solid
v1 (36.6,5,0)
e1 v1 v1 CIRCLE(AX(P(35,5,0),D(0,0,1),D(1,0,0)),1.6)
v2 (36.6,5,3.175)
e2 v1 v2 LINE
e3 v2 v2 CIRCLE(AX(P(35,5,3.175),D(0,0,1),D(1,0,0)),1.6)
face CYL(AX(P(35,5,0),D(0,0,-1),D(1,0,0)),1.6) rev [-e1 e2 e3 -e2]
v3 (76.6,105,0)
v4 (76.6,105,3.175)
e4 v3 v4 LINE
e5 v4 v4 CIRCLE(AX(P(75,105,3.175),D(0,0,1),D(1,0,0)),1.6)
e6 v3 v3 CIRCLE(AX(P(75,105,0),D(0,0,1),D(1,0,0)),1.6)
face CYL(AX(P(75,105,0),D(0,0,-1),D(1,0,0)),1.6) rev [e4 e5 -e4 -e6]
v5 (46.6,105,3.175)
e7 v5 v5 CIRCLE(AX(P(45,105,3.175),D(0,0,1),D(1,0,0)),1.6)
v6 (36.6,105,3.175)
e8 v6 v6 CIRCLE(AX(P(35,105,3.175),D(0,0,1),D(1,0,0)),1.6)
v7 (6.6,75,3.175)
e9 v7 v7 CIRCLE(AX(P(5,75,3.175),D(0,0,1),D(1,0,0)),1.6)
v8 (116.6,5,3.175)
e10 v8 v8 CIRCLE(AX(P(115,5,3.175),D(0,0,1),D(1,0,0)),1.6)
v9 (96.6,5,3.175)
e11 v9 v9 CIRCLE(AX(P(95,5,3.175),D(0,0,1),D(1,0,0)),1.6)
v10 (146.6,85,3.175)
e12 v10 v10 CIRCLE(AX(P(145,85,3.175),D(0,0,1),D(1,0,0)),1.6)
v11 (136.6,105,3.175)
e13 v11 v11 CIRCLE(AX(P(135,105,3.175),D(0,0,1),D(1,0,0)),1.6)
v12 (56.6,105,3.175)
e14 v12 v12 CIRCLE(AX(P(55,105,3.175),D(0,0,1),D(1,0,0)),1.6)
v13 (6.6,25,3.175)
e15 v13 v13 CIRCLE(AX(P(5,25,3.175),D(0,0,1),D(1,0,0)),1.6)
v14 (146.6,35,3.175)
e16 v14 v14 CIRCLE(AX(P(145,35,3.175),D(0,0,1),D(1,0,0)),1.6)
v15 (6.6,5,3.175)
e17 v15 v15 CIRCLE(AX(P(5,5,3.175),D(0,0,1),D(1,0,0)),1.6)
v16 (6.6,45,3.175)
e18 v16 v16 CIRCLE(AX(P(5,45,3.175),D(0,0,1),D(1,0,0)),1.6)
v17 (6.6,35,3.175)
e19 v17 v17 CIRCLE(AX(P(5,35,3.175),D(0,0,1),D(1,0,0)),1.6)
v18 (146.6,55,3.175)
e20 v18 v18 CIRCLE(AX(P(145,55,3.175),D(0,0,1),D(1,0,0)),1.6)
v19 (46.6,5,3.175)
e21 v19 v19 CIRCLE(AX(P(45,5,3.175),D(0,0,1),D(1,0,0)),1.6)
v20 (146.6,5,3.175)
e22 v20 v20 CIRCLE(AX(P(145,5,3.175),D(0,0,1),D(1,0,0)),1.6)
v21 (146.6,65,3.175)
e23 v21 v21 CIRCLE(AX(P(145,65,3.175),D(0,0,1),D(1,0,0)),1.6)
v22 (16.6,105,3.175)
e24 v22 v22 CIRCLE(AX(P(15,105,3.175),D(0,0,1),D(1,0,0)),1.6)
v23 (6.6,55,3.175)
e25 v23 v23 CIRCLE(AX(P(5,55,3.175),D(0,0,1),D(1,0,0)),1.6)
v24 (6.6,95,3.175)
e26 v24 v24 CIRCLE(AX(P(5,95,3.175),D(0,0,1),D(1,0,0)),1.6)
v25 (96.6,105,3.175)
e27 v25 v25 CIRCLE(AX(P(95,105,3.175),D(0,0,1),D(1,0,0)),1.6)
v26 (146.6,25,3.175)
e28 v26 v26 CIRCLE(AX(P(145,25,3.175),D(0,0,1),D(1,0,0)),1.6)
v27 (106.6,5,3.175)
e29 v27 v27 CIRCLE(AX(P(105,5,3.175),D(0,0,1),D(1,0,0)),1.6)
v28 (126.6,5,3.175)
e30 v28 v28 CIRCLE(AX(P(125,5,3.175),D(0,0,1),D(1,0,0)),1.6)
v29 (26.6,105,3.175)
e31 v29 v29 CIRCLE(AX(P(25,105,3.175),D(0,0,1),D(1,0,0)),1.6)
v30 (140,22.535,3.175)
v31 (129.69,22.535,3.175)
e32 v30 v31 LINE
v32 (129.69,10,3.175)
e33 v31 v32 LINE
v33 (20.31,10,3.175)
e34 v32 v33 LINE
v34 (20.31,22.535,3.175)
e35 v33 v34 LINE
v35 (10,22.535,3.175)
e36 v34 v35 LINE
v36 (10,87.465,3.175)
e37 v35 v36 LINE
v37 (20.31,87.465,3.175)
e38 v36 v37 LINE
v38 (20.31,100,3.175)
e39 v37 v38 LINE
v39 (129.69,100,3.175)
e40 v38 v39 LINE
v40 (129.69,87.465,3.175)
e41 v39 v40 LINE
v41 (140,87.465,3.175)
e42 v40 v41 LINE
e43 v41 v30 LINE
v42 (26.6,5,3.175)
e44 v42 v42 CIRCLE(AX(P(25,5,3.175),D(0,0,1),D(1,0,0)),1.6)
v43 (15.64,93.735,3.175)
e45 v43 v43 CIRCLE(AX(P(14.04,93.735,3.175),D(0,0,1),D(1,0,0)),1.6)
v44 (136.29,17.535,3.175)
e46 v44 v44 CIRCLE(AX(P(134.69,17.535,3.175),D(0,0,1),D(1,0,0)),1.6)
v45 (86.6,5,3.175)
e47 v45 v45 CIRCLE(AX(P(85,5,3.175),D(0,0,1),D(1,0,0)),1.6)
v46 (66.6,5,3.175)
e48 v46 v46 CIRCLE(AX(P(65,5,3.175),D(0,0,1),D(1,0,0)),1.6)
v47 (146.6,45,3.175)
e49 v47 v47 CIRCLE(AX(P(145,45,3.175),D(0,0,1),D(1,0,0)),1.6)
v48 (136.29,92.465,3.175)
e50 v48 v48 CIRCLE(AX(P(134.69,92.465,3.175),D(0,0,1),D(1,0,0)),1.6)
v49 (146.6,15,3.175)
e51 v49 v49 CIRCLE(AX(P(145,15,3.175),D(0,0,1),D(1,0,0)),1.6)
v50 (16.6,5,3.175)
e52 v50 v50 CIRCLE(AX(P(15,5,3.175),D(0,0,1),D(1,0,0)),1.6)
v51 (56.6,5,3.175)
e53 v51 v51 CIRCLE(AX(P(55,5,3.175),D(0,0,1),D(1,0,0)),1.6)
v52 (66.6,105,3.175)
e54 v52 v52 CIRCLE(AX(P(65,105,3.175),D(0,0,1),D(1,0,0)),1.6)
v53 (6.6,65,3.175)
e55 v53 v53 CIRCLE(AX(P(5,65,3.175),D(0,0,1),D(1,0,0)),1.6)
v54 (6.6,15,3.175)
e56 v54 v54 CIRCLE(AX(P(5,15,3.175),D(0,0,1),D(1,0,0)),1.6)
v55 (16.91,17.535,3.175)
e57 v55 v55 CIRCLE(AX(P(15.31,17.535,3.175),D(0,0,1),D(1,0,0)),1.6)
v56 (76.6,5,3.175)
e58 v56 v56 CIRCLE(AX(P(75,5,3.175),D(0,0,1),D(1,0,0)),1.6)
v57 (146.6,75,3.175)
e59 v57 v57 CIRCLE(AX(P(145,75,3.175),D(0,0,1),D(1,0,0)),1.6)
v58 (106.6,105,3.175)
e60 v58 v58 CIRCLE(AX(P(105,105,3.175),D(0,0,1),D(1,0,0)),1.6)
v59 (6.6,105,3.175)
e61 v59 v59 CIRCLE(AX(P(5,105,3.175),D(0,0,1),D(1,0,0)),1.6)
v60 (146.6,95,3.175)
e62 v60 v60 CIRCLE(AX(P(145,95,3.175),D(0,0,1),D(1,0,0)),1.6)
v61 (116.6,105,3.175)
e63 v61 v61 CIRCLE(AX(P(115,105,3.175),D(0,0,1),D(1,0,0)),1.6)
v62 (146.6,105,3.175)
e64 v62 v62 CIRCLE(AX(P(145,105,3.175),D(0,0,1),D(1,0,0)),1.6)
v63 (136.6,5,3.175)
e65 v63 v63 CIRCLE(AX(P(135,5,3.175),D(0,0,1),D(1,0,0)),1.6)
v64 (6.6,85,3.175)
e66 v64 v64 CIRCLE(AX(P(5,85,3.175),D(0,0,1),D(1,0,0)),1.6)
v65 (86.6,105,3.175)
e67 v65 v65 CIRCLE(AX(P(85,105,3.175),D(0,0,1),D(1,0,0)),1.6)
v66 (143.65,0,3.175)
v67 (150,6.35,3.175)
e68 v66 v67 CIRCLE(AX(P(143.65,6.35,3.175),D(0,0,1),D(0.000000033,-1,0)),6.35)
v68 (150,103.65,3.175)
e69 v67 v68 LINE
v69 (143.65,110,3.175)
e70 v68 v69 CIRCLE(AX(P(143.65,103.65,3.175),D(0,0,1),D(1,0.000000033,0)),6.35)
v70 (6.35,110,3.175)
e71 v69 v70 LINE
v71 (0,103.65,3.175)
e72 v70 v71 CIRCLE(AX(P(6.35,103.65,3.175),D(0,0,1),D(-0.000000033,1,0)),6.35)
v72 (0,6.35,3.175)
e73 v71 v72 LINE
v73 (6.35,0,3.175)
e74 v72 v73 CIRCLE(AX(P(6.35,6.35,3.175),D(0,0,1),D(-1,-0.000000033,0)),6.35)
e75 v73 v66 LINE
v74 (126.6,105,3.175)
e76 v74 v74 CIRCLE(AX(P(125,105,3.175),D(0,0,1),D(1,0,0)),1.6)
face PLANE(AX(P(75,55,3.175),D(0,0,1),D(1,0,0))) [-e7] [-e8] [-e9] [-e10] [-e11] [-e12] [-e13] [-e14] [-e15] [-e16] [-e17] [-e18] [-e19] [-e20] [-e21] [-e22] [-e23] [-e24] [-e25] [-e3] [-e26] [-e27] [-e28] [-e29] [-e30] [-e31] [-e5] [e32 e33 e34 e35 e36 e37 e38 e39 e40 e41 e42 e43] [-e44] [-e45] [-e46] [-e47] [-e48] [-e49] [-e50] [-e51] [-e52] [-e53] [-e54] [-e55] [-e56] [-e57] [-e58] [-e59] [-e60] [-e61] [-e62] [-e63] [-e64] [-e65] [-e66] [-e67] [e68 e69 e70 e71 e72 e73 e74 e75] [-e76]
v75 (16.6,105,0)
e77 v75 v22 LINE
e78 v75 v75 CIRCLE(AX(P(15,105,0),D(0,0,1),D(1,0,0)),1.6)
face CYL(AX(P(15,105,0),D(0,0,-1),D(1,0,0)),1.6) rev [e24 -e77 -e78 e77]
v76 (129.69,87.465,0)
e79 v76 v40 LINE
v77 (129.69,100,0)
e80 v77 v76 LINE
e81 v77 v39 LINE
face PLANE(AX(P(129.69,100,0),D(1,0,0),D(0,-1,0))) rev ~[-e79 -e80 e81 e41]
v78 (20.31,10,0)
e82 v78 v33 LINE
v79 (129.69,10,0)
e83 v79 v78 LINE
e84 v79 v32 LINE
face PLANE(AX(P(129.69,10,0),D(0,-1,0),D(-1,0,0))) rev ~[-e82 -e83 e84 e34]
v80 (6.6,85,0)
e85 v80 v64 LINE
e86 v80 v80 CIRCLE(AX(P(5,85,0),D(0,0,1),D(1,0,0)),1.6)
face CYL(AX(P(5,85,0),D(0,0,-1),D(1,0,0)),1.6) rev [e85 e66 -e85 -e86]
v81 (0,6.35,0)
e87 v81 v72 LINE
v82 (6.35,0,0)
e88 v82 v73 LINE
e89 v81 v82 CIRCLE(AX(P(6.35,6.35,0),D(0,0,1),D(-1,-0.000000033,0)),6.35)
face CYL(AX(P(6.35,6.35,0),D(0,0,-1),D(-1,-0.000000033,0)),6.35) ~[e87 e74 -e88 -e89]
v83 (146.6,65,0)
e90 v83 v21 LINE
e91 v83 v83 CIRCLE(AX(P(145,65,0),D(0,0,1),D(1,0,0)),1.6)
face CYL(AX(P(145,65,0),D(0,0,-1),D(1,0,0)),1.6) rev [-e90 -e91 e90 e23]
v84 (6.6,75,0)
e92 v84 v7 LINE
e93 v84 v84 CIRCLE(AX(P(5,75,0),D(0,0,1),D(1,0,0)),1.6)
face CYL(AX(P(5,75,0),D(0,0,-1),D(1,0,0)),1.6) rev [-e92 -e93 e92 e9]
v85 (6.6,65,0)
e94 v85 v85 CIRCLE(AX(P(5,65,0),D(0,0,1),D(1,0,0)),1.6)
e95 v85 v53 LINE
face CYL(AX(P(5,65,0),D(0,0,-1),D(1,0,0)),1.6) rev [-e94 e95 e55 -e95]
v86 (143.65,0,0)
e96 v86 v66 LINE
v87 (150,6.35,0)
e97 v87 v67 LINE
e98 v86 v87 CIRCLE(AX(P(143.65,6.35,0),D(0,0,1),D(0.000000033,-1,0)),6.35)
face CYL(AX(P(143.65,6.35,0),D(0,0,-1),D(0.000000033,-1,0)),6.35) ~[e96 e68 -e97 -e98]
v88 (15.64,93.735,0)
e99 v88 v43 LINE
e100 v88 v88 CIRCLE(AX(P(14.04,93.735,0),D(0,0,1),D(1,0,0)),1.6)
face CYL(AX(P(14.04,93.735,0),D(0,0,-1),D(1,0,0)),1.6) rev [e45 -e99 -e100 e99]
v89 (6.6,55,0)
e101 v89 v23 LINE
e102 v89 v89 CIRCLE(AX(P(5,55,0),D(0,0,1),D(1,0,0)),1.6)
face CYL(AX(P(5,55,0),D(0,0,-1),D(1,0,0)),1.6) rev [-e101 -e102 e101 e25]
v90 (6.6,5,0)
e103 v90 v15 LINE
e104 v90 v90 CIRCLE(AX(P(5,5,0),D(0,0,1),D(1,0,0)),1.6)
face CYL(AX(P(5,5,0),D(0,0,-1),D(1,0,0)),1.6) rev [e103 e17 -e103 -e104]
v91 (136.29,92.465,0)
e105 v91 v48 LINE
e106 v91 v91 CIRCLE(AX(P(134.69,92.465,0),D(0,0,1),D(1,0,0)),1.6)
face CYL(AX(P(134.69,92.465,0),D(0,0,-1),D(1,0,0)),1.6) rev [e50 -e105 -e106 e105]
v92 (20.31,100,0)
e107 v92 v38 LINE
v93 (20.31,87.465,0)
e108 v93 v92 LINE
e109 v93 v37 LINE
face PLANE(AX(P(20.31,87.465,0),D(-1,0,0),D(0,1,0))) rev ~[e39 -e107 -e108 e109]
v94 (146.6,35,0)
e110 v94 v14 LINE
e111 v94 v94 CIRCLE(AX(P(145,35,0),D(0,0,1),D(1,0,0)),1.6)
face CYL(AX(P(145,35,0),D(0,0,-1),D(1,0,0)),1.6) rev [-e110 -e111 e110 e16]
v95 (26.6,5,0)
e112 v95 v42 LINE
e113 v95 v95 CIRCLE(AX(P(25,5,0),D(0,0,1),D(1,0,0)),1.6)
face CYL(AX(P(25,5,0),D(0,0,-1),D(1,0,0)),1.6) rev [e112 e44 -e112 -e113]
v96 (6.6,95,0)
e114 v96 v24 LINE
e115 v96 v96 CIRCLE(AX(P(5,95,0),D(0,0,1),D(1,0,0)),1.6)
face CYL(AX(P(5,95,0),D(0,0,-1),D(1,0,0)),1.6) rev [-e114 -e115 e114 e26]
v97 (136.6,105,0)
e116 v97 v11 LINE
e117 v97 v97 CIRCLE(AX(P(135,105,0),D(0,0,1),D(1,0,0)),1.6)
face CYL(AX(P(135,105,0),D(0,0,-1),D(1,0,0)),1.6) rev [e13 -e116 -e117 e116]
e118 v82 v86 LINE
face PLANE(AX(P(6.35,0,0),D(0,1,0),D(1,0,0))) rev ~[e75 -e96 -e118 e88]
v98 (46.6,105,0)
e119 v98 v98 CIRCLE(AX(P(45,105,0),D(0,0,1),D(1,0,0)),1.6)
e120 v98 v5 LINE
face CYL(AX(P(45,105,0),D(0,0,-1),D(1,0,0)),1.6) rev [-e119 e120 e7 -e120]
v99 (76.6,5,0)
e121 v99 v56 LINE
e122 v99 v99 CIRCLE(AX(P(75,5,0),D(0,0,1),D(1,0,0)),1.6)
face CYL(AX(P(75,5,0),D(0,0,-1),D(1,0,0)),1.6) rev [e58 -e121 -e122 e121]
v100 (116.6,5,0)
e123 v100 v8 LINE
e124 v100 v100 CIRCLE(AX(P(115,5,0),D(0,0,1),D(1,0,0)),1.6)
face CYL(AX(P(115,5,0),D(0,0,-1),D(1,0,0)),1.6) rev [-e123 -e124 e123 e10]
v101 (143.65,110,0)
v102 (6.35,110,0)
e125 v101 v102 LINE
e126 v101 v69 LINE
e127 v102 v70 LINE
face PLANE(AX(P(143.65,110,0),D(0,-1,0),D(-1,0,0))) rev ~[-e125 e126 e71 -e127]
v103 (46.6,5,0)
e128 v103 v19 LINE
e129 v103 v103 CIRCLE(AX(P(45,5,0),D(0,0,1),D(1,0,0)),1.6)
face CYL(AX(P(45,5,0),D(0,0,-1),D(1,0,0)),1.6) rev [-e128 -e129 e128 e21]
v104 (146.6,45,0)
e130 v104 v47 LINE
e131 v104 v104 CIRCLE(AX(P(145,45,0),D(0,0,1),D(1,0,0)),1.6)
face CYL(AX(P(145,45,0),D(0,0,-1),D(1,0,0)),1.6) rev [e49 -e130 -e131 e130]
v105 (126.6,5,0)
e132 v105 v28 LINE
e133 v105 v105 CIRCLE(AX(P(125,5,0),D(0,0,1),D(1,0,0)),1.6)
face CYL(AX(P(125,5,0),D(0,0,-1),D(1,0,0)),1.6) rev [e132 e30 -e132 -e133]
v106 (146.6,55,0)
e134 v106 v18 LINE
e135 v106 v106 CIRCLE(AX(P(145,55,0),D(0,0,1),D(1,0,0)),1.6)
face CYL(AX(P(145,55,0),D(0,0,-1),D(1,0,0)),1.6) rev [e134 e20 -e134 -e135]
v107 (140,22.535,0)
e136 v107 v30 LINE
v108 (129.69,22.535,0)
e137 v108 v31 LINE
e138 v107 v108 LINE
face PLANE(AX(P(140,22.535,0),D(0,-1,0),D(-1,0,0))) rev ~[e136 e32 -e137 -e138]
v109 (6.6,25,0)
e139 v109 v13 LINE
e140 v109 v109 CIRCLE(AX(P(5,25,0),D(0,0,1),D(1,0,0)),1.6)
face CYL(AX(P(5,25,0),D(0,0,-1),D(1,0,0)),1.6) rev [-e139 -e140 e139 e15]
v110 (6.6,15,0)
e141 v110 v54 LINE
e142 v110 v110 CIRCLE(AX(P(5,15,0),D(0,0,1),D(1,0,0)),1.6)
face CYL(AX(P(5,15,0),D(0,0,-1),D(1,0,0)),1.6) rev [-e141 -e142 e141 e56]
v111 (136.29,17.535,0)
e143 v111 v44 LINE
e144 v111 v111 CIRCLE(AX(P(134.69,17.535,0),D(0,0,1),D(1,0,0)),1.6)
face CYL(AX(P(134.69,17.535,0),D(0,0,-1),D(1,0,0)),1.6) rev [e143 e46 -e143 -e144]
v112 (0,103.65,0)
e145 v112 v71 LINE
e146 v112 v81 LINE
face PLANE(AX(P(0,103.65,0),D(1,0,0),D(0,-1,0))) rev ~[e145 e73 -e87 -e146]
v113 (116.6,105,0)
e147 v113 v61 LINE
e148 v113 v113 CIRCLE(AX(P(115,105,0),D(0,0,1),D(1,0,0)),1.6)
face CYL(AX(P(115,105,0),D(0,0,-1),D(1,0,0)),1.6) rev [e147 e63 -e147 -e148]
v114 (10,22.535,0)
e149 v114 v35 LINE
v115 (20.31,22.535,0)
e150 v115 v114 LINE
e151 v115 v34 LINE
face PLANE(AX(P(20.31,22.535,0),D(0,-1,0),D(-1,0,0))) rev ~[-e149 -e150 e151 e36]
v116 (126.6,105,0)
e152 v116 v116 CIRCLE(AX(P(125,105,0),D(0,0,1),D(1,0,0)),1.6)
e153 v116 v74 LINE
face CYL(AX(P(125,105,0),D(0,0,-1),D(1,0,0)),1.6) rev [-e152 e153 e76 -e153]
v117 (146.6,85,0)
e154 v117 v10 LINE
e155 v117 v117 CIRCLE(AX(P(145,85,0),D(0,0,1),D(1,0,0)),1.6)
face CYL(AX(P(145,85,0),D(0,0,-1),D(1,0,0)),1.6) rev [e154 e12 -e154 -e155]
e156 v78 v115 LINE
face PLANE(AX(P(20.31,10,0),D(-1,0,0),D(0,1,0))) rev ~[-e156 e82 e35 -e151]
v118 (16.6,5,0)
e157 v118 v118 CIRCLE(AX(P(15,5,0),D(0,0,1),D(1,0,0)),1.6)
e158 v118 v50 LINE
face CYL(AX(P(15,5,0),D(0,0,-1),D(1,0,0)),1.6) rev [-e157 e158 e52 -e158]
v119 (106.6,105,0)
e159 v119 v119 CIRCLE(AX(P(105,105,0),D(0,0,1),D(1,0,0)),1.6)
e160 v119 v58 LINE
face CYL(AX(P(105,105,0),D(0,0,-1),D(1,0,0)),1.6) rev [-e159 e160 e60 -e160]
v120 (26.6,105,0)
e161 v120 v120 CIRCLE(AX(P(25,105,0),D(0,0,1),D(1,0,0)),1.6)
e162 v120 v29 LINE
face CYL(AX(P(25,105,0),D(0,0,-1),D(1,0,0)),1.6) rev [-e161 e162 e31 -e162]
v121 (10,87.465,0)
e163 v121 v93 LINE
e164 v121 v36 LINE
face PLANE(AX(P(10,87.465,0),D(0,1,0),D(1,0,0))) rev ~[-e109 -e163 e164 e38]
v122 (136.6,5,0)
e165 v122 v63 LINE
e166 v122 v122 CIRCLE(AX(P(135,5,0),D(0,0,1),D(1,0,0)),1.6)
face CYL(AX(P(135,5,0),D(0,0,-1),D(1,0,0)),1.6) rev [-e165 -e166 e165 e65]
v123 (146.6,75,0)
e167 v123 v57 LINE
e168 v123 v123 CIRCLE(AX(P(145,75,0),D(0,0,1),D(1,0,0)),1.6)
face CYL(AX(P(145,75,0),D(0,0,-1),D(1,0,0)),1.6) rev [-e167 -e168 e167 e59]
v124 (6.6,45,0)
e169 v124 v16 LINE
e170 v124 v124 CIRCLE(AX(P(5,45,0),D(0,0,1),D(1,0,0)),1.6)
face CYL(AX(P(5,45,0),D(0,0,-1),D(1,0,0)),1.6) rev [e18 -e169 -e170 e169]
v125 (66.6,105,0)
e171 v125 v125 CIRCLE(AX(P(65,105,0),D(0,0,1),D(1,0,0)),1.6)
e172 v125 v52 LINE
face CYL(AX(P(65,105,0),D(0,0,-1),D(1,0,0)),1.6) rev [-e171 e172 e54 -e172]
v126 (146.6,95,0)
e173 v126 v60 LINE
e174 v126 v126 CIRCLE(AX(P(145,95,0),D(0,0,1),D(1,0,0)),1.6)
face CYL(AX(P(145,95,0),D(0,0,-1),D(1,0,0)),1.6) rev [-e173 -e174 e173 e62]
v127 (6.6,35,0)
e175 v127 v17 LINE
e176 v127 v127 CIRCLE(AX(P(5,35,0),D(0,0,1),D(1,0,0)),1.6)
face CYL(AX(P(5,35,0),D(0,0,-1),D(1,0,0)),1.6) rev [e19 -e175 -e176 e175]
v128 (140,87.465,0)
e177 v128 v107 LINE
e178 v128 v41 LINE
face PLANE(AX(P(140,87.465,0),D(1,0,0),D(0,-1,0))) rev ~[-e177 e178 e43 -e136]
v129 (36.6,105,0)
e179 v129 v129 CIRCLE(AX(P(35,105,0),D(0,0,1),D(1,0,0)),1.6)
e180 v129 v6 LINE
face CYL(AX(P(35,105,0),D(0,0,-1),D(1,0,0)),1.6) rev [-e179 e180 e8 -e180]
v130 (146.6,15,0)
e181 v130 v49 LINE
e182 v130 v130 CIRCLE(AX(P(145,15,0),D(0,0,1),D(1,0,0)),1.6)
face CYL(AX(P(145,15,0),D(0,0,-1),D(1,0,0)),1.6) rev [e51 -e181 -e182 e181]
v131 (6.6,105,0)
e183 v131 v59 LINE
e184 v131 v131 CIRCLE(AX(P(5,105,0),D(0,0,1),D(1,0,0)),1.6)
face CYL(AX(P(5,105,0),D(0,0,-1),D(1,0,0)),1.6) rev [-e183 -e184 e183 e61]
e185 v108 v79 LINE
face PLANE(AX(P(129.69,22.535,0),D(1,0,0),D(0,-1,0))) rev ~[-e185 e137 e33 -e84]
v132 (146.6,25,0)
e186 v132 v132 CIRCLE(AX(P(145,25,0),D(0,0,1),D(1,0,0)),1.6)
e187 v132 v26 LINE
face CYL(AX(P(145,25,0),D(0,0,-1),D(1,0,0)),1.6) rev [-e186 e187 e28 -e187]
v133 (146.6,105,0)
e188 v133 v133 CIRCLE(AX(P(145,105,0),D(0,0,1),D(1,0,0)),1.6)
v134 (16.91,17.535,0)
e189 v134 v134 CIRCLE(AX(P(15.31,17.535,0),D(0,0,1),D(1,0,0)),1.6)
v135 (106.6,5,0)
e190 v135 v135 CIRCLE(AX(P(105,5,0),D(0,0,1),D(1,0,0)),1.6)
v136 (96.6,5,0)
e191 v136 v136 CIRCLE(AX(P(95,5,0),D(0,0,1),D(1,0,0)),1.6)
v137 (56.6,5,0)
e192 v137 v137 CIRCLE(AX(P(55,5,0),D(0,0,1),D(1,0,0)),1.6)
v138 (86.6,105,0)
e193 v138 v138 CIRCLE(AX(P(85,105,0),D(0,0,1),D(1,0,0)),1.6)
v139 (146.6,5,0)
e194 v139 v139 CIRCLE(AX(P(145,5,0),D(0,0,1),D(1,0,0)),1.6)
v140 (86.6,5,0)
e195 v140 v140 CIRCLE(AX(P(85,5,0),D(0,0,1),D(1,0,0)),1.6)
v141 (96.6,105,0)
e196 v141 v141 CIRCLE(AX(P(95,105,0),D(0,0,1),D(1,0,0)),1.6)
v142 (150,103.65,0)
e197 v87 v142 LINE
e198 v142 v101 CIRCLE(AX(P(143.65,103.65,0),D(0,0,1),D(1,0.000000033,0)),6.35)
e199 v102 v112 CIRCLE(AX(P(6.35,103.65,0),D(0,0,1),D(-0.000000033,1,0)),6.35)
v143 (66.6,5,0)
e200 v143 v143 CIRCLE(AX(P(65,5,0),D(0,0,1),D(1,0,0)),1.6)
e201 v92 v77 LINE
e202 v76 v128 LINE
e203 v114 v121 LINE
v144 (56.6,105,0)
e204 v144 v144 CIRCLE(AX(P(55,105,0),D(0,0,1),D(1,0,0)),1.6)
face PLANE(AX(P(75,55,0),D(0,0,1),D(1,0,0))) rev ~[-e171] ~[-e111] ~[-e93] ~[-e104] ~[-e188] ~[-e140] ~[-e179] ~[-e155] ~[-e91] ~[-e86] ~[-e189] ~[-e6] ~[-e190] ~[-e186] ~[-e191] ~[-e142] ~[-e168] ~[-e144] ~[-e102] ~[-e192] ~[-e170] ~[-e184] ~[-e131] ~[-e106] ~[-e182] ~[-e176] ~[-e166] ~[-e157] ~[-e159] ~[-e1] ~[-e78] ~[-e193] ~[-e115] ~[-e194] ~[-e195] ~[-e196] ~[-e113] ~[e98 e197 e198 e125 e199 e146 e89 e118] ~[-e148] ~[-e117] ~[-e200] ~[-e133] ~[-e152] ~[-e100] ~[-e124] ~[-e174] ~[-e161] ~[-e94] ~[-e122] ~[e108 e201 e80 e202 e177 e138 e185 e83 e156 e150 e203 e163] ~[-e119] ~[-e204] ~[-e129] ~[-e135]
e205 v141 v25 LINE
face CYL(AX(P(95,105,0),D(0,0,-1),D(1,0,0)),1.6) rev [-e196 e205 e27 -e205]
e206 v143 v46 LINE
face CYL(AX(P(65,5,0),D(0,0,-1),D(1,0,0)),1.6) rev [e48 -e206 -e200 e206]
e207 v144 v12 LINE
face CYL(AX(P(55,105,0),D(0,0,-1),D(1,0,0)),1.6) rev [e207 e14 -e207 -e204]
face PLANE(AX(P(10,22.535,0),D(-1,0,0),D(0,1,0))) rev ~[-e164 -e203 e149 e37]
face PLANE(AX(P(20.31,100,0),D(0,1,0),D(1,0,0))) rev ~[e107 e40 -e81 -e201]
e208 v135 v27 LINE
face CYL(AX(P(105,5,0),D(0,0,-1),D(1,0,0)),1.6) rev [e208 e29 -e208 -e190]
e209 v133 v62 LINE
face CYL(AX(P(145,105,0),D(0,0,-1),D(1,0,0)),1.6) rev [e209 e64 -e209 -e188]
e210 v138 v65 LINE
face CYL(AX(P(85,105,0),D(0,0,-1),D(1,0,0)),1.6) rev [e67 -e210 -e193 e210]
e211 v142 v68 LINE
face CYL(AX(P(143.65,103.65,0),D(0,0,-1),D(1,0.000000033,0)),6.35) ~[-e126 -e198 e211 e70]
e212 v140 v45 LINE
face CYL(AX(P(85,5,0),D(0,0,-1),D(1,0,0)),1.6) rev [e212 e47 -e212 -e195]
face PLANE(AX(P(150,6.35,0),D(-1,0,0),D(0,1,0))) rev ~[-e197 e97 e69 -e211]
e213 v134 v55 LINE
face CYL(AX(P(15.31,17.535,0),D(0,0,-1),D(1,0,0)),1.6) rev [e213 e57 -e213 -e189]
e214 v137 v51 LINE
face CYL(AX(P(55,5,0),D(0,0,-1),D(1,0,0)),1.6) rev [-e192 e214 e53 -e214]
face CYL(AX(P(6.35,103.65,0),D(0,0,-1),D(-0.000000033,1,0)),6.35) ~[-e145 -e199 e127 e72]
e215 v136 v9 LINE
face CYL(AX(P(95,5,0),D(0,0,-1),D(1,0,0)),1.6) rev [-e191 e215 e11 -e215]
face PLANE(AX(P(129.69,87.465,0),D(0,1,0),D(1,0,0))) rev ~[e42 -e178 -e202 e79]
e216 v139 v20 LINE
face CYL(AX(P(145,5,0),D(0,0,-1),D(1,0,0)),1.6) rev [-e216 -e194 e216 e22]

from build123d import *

# Parameters (mm, degrees)
F0_R     = 1.6
F1_DEPTH = 3.175


with BuildPart() as f1:
    # F0 (on Top) → F1 (new body)
    with BuildSketch(Plane.XY):
        with BuildLine():
            ThreePointArc((0, 6.35), (1.859872, 1.859872), (6.35, 0))
            Line((6.35, 0), (143.65, 0))
            ThreePointArc((143.65, 0), (148.140128, 1.859872), (150, 6.35))
            Line((150, 6.35), (150, 103.65))
            ThreePointArc((150, 103.65), (148.140128, 108.140128), (143.65, 110))
            Line((143.65, 110), (6.35, 110))
            ThreePointArc((6.35, 110), (1.859872, 108.140128), (0, 103.65))
            Line((0, 103.65), (0, 6.35))
        make_face()
        with Locations((5, 5)):
            Circle(F0_R, mode=Mode.SUBTRACT)
        with Locations((15, 5)):
            Circle(F0_R, mode=Mode.SUBTRACT)
        with Locations((25, 5)):
            Circle(F0_R, mode=Mode.SUBTRACT)
        with Locations((35, 5)):
            Circle(F0_R, mode=Mode.SUBTRACT)
        with Locations((5, 15)):
            Circle(F0_R, mode=Mode.SUBTRACT)
        with Locations((15.31, 17.535)):
            Circle(F0_R, mode=Mode.SUBTRACT)
        with Locations((5, 25)):
            Circle(F0_R, mode=Mode.SUBTRACT)
        with Locations((45, 5)):
            Circle(F0_R, mode=Mode.SUBTRACT)
        with Locations((55, 5)):
            Circle(F0_R, mode=Mode.SUBTRACT)
        with Locations((65, 5)):
            Circle(F0_R, mode=Mode.SUBTRACT)
        with Locations((5, 35)):
            Circle(F0_R, mode=Mode.SUBTRACT)
        with Locations((5, 45)):
            Circle(F0_R, mode=Mode.SUBTRACT)
        with Locations((75, 5)):
            Circle(F0_R, mode=Mode.SUBTRACT)
        with Locations((85, 5)):
            Circle(F0_R, mode=Mode.SUBTRACT)
        with Locations((95, 5)):
            Circle(F0_R, mode=Mode.SUBTRACT)
        with Locations((105, 5)):
            Circle(F0_R, mode=Mode.SUBTRACT)
        with Locations((115, 5)):
            Circle(F0_R, mode=Mode.SUBTRACT)
        with Locations((125, 5)):
            Circle(F0_R, mode=Mode.SUBTRACT)
        with Locations((135, 5)):
            Circle(F0_R, mode=Mode.SUBTRACT)
        with Locations((145, 5)):
            Circle(F0_R, mode=Mode.SUBTRACT)
        with Locations((134.69, 17.535)):
            Circle(F0_R, mode=Mode.SUBTRACT)
        with Locations((145, 15)):
            Circle(F0_R, mode=Mode.SUBTRACT)
        with Locations((145, 25)):
            Circle(F0_R, mode=Mode.SUBTRACT)
        with Locations((145, 35)):
            Circle(F0_R, mode=Mode.SUBTRACT)
        with Locations((145, 45)):
            Circle(F0_R, mode=Mode.SUBTRACT)
        with Locations((5, 55)):
            Circle(F0_R, mode=Mode.SUBTRACT)
        with Locations((5, 65)):
            Circle(F0_R, mode=Mode.SUBTRACT)
        with Locations((5, 75)):
            Circle(F0_R, mode=Mode.SUBTRACT)
        with Locations((5, 85)):
            Circle(F0_R, mode=Mode.SUBTRACT)
        with Locations((5, 95)):
            Circle(F0_R, mode=Mode.SUBTRACT)
        with Locations((14.04, 93.735)):
            Circle(F0_R, mode=Mode.SUBTRACT)
        with Locations((5, 105)):
            Circle(F0_R, mode=Mode.SUBTRACT)
        with Locations((15, 105)):
            Circle(F0_R, mode=Mode.SUBTRACT)
        with Locations((25, 105)):
            Circle(F0_R, mode=Mode.SUBTRACT)
        with Locations((35, 105)):
            Circle(F0_R, mode=Mode.SUBTRACT)
        with Locations((45, 105)):
            Circle(F0_R, mode=Mode.SUBTRACT)
        with Locations((55, 105)):
            Circle(F0_R, mode=Mode.SUBTRACT)
        with Locations((65, 105)):
            Circle(F0_R, mode=Mode.SUBTRACT)
        Polygon((20.31, 22.535), (10, 22.535), (10, 87.465), (20.31, 87.465), (20.31, 100), (129.69, 100), (129.69, 87.465), (140, 87.465), (140, 22.535), (129.69, 22.535), (129.69, 10), (20.31, 10), align=None, mode=Mode.SUBTRACT)
        with Locations((145, 55)):
            Circle(F0_R, mode=Mode.SUBTRACT)
        with Locations((145, 65)):
            Circle(F0_R, mode=Mode.SUBTRACT)
        with Locations((145, 75)):
            Circle(F0_R, mode=Mode.SUBTRACT)
        with Locations((75, 105)):
            Circle(F0_R, mode=Mode.SUBTRACT)
        with Locations((85, 105)):
            Circle(F0_R, mode=Mode.SUBTRACT)
        with Locations((95, 105)):
            Circle(F0_R, mode=Mode.SUBTRACT)
        with Locations((105, 105)):
            Circle(F0_R, mode=Mode.SUBTRACT)
        with Locations((145, 85)):
            Circle(F0_R, mode=Mode.SUBTRACT)
        with Locations((134.69, 92.465)):
            Circle(F0_R, mode=Mode.SUBTRACT)
        with Locations((145, 95)):
            Circle(F0_R, mode=Mode.SUBTRACT)
        with Locations((115, 105)):
            Circle(F0_R, mode=Mode.SUBTRACT)
        with Locations((125, 105)):
            Circle(F0_R, mode=Mode.SUBTRACT)
        with Locations((135, 105)):
            Circle(F0_R, mode=Mode.SUBTRACT)
        with Locations((145, 105)):
            Circle(F0_R, mode=Mode.SUBTRACT)
    extrude(amount=F1_DEPTH)


solid = f1.part
